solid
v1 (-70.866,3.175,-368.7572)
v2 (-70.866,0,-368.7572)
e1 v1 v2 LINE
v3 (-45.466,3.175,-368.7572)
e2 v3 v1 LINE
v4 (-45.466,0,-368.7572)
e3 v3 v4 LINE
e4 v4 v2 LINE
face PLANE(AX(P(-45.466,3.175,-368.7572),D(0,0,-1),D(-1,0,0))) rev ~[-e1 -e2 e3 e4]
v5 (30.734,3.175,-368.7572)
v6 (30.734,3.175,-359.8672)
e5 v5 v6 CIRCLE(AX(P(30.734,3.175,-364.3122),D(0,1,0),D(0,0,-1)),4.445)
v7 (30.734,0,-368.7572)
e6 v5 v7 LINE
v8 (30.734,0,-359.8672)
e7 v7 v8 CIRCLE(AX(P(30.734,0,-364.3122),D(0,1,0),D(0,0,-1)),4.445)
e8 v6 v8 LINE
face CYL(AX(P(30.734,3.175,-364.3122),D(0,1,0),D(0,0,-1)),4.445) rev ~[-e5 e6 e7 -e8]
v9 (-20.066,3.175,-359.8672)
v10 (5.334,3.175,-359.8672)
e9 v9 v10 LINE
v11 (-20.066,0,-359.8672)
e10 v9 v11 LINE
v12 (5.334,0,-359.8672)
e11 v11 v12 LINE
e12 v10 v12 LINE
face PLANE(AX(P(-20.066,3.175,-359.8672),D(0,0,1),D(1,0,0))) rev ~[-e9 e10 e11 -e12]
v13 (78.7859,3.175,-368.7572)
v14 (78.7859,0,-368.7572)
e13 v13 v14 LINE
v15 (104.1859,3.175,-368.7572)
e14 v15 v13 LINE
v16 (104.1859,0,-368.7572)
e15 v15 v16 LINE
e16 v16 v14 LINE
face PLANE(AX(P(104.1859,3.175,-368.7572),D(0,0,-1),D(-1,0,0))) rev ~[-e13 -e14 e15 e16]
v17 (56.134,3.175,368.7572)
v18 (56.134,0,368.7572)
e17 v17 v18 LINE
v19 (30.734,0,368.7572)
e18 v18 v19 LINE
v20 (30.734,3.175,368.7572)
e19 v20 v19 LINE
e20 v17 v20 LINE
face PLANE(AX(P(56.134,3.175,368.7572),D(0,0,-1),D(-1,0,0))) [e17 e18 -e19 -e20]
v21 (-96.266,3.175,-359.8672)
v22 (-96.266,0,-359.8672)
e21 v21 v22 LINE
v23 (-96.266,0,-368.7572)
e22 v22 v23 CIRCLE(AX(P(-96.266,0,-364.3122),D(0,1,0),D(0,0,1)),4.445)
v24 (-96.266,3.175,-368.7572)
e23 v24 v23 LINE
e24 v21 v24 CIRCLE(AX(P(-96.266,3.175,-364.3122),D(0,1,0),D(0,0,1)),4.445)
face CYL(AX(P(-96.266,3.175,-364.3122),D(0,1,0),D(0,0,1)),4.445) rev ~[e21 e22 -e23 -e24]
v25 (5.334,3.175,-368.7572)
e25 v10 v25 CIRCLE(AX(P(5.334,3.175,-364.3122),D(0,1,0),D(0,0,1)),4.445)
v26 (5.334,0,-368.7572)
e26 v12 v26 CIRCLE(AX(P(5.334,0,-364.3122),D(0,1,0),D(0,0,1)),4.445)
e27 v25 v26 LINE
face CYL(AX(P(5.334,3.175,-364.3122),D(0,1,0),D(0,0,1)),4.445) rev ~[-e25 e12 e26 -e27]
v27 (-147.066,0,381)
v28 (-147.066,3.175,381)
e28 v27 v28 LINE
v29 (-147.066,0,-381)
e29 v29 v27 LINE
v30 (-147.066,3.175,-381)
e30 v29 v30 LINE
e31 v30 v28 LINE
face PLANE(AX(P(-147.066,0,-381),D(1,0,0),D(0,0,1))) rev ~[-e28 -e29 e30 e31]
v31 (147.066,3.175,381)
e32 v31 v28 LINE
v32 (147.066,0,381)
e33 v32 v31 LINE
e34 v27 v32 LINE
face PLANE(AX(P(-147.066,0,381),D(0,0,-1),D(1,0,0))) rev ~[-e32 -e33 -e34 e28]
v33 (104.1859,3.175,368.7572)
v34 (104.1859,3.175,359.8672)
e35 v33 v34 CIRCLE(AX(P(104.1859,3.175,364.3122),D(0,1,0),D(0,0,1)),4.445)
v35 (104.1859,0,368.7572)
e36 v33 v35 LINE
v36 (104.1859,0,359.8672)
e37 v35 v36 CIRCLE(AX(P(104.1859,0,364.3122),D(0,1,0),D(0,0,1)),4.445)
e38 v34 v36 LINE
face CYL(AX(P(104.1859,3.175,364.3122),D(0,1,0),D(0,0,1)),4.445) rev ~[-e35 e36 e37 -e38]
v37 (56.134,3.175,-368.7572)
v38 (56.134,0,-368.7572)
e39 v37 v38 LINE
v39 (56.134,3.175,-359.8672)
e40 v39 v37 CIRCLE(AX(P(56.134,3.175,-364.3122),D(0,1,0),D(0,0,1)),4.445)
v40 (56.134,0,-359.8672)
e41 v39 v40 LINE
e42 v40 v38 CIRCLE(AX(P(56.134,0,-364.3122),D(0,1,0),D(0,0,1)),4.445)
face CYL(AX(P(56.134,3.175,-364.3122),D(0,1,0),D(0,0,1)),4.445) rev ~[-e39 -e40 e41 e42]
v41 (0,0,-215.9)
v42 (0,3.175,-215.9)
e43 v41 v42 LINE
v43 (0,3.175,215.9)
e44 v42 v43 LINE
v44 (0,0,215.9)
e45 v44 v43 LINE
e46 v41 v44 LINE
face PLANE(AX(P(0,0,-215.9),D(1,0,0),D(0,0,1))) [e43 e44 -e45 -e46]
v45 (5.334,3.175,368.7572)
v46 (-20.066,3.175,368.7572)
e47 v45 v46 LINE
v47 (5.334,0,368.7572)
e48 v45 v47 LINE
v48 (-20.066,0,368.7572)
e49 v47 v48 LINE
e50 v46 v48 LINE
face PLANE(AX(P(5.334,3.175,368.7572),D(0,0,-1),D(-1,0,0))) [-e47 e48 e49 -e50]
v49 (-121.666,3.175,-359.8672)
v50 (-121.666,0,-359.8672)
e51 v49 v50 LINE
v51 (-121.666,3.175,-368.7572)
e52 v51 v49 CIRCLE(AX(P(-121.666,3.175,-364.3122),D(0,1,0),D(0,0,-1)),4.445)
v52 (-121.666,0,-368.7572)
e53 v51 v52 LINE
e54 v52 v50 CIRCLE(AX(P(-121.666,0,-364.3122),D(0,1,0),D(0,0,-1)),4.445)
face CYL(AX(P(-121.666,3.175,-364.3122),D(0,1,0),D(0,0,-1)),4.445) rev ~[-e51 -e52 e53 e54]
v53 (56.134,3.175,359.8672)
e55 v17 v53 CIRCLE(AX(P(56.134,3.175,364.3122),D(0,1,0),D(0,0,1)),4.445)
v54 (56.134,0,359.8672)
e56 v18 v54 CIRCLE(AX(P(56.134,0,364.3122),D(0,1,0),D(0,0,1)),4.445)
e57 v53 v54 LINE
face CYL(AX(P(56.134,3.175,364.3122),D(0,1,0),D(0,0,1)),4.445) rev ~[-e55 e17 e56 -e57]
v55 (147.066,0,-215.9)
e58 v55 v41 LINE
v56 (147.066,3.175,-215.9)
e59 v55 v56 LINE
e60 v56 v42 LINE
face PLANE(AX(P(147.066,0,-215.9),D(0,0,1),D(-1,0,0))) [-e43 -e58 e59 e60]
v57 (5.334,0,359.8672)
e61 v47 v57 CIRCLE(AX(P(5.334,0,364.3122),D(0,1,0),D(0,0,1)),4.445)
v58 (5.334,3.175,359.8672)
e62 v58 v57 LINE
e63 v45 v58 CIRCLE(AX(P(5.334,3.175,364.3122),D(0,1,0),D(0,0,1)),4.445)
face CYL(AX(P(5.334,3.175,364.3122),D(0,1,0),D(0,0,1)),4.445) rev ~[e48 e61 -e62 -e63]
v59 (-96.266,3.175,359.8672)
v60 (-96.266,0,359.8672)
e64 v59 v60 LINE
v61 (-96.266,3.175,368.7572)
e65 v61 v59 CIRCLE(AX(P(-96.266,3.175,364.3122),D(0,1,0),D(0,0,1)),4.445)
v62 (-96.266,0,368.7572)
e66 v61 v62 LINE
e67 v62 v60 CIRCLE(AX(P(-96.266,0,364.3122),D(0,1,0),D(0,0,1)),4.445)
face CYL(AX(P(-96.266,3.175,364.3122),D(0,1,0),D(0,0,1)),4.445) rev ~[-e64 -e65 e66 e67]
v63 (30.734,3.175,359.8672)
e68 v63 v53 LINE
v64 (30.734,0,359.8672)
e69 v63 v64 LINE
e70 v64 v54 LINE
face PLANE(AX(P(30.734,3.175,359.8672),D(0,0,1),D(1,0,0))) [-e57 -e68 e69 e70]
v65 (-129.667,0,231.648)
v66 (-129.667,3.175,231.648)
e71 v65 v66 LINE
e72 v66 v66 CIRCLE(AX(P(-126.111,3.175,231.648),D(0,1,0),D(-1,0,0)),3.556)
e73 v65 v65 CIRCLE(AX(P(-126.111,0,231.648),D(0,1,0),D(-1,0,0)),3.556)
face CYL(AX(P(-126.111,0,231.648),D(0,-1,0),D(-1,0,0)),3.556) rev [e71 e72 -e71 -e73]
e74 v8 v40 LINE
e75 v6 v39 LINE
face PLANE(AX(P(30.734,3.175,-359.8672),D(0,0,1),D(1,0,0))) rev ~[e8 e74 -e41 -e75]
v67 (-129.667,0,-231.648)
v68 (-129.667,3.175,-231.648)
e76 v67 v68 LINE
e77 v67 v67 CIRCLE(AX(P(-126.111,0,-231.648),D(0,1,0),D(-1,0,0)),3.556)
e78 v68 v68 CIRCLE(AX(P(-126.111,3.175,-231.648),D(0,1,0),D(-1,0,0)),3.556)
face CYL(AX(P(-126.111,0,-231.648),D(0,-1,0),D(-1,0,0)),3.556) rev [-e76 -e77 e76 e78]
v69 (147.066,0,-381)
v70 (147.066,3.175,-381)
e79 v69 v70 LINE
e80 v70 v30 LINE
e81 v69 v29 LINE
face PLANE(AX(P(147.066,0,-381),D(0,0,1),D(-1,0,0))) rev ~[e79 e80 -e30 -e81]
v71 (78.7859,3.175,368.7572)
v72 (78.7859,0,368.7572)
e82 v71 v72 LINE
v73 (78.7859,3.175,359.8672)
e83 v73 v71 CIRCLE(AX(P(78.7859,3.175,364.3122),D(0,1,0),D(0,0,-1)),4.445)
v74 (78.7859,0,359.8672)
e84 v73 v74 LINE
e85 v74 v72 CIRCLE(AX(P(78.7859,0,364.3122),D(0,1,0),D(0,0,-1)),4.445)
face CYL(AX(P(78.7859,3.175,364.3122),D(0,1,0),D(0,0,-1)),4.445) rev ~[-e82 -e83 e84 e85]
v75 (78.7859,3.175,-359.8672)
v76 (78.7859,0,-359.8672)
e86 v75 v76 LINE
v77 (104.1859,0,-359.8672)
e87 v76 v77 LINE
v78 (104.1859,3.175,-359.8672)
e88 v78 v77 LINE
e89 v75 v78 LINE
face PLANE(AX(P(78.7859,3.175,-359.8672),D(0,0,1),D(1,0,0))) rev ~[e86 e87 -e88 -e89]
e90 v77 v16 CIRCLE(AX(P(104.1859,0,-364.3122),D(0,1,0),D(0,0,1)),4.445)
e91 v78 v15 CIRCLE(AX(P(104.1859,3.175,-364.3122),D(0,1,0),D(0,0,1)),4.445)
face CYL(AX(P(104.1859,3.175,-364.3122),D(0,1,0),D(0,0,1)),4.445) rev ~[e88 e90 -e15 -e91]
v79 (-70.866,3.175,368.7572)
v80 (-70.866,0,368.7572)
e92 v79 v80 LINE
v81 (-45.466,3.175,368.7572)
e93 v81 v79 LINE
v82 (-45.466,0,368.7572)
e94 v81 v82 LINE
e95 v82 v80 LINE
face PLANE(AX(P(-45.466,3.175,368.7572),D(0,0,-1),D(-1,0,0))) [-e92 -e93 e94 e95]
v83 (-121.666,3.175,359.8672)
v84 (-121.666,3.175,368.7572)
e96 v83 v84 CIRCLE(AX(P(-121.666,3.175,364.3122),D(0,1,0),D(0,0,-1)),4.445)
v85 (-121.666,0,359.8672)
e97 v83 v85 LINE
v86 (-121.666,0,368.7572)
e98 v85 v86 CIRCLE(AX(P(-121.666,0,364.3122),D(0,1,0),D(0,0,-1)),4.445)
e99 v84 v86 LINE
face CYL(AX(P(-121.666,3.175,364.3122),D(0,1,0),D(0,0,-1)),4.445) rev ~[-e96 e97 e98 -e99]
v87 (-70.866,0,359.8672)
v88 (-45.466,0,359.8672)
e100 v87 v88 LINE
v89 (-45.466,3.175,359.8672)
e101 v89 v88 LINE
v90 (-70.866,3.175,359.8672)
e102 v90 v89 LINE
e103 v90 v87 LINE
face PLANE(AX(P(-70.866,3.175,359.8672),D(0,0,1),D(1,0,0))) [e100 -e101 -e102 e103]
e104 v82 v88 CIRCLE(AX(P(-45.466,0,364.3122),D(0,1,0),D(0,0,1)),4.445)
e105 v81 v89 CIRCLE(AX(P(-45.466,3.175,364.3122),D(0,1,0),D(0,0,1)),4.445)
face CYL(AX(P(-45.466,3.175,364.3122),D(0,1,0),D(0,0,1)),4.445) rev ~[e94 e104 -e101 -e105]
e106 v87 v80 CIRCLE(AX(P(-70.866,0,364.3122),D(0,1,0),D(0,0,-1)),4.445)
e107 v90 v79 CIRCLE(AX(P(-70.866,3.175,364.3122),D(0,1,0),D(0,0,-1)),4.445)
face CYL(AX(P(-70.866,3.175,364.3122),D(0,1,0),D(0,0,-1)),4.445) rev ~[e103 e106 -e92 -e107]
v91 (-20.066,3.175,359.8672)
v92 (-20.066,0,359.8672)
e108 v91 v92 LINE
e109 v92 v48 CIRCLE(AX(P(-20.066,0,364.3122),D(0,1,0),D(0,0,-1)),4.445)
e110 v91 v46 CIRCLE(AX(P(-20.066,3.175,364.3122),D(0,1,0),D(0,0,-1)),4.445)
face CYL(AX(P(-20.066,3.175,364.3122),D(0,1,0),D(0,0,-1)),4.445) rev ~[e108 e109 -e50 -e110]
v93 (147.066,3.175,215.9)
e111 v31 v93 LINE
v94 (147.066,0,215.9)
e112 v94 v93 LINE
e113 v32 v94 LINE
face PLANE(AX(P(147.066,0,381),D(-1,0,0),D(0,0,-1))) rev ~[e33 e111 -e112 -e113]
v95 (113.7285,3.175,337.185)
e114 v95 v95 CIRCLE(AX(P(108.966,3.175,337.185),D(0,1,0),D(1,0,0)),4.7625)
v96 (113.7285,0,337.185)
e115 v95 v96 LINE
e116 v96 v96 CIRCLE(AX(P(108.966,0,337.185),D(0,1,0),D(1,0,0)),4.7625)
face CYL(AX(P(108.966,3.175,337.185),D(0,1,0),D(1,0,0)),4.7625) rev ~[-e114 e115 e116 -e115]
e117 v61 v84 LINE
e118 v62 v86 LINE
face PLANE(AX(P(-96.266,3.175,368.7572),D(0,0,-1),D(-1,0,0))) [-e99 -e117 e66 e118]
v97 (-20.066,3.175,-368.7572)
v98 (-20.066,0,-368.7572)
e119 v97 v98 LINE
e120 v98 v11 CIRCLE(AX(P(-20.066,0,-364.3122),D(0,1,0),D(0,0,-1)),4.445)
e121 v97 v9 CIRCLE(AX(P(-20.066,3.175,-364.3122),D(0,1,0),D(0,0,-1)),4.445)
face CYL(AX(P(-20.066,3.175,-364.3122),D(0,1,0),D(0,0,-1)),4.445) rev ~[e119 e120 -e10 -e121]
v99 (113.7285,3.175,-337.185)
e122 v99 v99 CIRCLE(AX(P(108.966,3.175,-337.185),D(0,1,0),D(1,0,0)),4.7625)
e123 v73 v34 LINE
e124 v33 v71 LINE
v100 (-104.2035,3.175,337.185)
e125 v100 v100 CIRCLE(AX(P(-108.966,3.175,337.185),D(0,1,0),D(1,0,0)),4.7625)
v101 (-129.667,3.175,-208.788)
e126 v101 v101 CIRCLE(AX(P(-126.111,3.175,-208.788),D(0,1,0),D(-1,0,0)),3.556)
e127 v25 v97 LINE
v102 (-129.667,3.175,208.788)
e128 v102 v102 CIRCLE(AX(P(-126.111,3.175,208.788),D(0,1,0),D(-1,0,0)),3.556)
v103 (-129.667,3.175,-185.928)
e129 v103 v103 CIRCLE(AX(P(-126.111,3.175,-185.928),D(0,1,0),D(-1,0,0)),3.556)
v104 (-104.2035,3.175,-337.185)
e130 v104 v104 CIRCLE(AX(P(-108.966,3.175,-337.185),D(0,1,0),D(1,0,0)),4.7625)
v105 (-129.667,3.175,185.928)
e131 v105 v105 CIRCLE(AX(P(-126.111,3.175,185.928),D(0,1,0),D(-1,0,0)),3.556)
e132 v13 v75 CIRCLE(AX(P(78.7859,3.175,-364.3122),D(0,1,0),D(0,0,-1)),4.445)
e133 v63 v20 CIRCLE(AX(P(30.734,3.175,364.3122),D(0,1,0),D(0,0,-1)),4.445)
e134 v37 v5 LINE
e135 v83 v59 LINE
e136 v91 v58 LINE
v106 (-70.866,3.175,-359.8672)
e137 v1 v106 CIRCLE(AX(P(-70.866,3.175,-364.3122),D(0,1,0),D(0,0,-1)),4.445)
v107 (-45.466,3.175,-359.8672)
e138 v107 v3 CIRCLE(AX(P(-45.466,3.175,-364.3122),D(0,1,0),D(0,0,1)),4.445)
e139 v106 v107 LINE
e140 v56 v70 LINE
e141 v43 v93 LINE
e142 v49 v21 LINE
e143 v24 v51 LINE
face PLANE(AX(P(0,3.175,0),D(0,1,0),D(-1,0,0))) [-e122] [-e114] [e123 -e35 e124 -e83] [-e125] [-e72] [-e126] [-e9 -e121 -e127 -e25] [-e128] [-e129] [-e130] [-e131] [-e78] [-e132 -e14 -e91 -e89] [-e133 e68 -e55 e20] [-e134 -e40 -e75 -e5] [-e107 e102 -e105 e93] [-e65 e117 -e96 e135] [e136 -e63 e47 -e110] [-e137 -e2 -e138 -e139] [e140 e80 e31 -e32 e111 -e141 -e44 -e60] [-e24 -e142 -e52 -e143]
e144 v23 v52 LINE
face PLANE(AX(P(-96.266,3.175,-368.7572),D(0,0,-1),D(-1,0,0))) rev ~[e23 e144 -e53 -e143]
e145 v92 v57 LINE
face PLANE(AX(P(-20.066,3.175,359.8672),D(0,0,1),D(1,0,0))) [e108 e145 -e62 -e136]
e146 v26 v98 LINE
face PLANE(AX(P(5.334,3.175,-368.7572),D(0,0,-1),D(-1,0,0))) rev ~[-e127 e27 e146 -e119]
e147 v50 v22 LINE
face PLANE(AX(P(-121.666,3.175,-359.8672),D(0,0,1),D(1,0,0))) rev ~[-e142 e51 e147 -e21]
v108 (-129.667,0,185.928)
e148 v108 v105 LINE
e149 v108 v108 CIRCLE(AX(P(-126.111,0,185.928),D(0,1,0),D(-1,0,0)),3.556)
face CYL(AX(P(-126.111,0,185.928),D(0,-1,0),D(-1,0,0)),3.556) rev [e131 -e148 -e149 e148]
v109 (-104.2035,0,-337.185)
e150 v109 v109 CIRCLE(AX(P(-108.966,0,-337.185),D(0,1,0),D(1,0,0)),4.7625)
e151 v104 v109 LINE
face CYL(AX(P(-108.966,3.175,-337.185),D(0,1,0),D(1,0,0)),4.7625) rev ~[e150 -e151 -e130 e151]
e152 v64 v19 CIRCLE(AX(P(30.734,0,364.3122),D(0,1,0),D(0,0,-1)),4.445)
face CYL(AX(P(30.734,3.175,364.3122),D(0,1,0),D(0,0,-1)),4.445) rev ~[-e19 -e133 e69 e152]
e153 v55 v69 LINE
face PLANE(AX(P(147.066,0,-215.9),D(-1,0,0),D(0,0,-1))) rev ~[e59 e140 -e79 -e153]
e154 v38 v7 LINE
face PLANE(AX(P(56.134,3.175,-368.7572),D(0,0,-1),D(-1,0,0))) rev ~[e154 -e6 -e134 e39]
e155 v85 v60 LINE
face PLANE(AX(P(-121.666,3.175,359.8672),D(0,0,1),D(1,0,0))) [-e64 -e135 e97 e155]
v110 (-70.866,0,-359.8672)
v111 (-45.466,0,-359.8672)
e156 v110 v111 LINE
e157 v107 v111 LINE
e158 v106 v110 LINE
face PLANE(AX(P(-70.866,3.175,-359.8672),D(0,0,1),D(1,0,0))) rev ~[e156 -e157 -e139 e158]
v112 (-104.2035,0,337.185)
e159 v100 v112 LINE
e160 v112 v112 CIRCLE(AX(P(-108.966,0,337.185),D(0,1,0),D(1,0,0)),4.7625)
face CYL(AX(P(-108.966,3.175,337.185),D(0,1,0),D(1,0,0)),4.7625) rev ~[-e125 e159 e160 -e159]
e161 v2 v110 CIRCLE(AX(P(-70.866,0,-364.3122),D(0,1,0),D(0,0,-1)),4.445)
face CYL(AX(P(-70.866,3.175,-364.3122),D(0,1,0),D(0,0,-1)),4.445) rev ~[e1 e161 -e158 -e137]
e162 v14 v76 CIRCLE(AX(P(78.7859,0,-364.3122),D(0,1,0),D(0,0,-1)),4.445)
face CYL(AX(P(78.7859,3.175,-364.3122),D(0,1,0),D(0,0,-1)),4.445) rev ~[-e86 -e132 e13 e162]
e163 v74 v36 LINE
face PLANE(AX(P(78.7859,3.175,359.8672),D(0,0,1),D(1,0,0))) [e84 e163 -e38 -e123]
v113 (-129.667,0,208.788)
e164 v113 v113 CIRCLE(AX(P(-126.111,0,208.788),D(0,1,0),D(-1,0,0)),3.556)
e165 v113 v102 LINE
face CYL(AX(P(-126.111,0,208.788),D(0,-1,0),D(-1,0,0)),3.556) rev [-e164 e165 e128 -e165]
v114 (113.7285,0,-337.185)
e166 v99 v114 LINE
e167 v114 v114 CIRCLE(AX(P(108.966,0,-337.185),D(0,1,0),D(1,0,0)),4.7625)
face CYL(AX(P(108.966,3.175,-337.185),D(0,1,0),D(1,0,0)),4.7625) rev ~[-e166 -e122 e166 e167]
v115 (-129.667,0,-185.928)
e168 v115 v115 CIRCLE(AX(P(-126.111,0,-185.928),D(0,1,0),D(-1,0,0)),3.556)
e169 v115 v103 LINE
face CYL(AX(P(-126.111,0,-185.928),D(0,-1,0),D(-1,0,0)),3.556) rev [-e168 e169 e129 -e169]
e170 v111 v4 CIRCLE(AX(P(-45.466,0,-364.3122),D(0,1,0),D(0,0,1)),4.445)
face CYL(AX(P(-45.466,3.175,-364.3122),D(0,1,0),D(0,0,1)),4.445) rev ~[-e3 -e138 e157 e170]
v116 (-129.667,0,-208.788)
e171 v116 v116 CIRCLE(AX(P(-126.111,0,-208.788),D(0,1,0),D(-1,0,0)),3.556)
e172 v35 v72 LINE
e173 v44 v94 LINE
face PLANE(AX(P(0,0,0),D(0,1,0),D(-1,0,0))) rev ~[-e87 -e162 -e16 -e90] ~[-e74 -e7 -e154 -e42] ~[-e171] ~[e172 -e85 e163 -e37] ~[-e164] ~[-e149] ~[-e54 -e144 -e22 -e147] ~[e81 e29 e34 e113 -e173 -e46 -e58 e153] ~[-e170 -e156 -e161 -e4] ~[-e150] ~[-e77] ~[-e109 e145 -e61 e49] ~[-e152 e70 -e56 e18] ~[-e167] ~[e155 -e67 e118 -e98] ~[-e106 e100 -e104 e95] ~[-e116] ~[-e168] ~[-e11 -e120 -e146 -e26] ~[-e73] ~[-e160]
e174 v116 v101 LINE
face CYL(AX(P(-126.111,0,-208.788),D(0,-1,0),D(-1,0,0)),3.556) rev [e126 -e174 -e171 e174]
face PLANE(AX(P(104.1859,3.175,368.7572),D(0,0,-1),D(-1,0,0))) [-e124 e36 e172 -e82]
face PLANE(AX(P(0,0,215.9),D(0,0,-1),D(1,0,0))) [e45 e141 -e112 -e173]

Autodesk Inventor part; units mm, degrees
ref_plane "YZ Plane" through (0, 0, 0) normal (1, 0, 0) x (0, 1, 0)
ref_plane "XZ Plane" through (0, 0, 0) normal (0, 1, 0) x (-1, 0, 0)
ref_plane "XY Plane" through (0, 0, 0) normal (0, 0, 1) x (1, 0, 0)
sketch "Sketch1" plane through (0, 0, 0) normal (0, 1, 0) x (-1, 0, 0)
  line L0 (147.066, 381) -> (0, 381)
  line L1 (-147.066, 33.688) -> (-147.066, -381)
  line L2 (-147.066, -381) -> (147.066, -381)
  line L3 (147.066, -381) -> (147.066, 381)
  line L4 (147.066, 381) -> (-147.066, -381) construction
  line L5 (136.271, -185.928) -> (115.951, -185.928) construction
  line L6 (115.951, -185.928) -> (115.951, -231.648) construction
  line L7 (115.951, -231.648) -> (136.271, -231.648) construction
  line L8 (136.271, -231.648) -> (136.271, -185.928) construction
  line L9 (136.271, -185.928) -> (115.951, -231.648) construction
  line L10 (115.951, -185.928) -> (136.271, -231.648) construction
  circle A0 centre (126.111, -231.648) radius 3.556
  circle A1 centre (126.111, -185.928) radius 3.556
  circle A2 centre (126.111, -208.788) radius 3.556
  line L11 (0, 0) -> (147.066, 0) construction
  line L12 (136.271, 231.648) -> (115.951, 231.648) construction
  line L13 (115.951, 231.648) -> (115.951, 185.928) construction
  line L14 (115.951, 185.928) -> (136.271, 185.928) construction
  line L15 (136.271, 185.928) -> (136.271, 231.648) construction
  line L16 (136.271, 231.648) -> (115.951, 185.928) construction
  line L17 (115.951, 231.648) -> (136.271, 185.928) construction
  circle A3 centre (126.111, 231.648) radius 3.556
  circle A4 centre (126.111, 208.788) radius 3.556
  circle A5 centre (126.111, 185.928) radius 3.556
  line L18 (0, 381) -> (-147.066, 381)
  line L19 (-147.066, 381) -> (-147.066, 33.688)
  line L20 (0, 215.9) -> (-147.066, 215.9)
  line L21 (-147.066, 215.9) -> (-147.066, -215.9)
  line L22 (-147.066, -215.9) -> (0, -215.9)
  line L23 (0, -215.9) -> (0, 215.9)
  line L24 (0, 215.9) -> (-147.066, -215.9) construction
  line L25 (-147.066, 215.9) -> (0, -215.9) construction
  point P0 (-73.533, 0)
  dimension "d1" = 294.132
  dimension "d8" = 20.955
  dimension "d9" = 762
  dimension "d10" = 20.32
  dimension "d11" = 45.72
  dimension "d12" = 7.112
  dimension "d13" = 7.112
  dimension "d14" = 7.112
  dimension "d15" = 149.352
  dimension "d16" = 45.72
  dimension "d17" = 149.352
  dimension "d18" = 7.112
  dimension "d19" = 7.112
  dimension "d20" = 7.112
  dimension "d21" = 431.8
  dimension "d22" = 147.066
  dimension "d23" = 0
extrude "Extrusion1" add sketch "Sketch1" along normal blind 3.175 contours L3 L2 L1 L22 L23 L20 L19 L18 L0
sketch "Sketch2" plane through (0, 3.175, 0) normal (0, 1, 0) x (1, 0, 0)
  line L0 (-121.666, 364.3122) -> (-96.266, 364.3122) construction
  line L1 (-121.666, 359.8672) -> (-96.266, 359.8672)
  line L2 (-96.266, 368.7572) -> (-121.666, 368.7572)
  arc A0 (-121.666, 368.7572) -> (-121.666, 359.8672) centre (-121.666, 364.3122) ccw
  arc A1 (-96.266, 359.8672) -> (-96.266, 368.7572) centre (-96.266, 364.3122) ccw
  line L3 (147.066, 381) -> (-147.066, 381) projected
  line L4 (-70.866, 364.3122) -> (-45.466, 364.3122) construction
  line L5 (-70.866, 359.8672) -> (-45.466, 359.8672)
  line L6 (-45.466, 368.7572) -> (-70.866, 368.7572)
  arc A2 (-70.866, 368.7572) -> (-70.866, 359.8672) centre (-70.866, 364.3122) ccw
  arc A3 (-45.466, 359.8672) -> (-45.466, 368.7572) centre (-45.466, 364.3122) ccw
  line L7 (-20.066, 364.3122) -> (5.334, 364.3122) construction
  line L8 (-20.066, 359.8672) -> (5.334, 359.8672)
  line L9 (5.334, 368.7572) -> (-20.066, 368.7572)
  arc A4 (-20.066, 368.7572) -> (-20.066, 359.8672) centre (-20.066, 364.3122) ccw
  arc A5 (5.334, 359.8672) -> (5.334, 368.7572) centre (5.334, 364.3122) ccw
  line L10 (30.734, 364.3122) -> (56.134, 364.3122) construction
  line L11 (30.734, 359.8672) -> (56.134, 359.8672)
  line L12 (56.134, 368.7572) -> (30.734, 368.7572)
  arc A6 (30.734, 368.7572) -> (30.734, 359.8672) centre (30.734, 364.3122) ccw
  arc A7 (56.134, 359.8672) -> (56.134, 368.7572) centre (56.134, 364.3122) ccw
  line L13 (-147.066, 381) -> (-147.066, -381) projected
  line L14 (0, 0) -> (-147.066, 0) construction
  line L15 (-121.666, -364.3122) -> (-96.266, -364.3122) construction
  line L16 (-121.666, -359.8672) -> (-96.266, -359.8672)
  line L17 (-96.266, -368.7572) -> (-121.666, -368.7572)
  arc A8 (-121.666, -359.8672) -> (-121.666, -368.7572) centre (-121.666, -364.3122) ccw
  arc A9 (-96.266, -368.7572) -> (-96.266, -359.8672) centre (-96.266, -364.3122) ccw
  line L18 (-70.866, -364.3122) -> (-45.466, -364.3122) construction
  line L19 (-70.866, -359.8672) -> (-45.466, -359.8672)
  line L20 (-45.466, -368.7572) -> (-70.866, -368.7572)
  arc A10 (-70.866, -359.8672) -> (-70.866, -368.7572) centre (-70.866, -364.3122) ccw
  arc A11 (-45.466, -368.7572) -> (-45.466, -359.8672) centre (-45.466, -364.3122) ccw
  line L21 (-20.066, -364.3122) -> (5.334, -364.3122) construction
  line L22 (-20.066, -359.8672) -> (5.334, -359.8672)
  line L23 (5.334, -368.7572) -> (-20.066, -368.7572)
  arc A12 (-20.066, -359.8672) -> (-20.066, -368.7572) centre (-20.066, -364.3122) ccw
  arc A13 (5.334, -368.7572) -> (5.334, -359.8672) centre (5.334, -364.3122) ccw
  line L24 (30.734, -364.3122) -> (56.134, -364.3122) construction
  line L25 (30.734, -359.8672) -> (56.134, -359.8672)
  line L26 (56.134, -368.7572) -> (30.734, -368.7572)
  arc A14 (30.734, -359.8672) -> (30.734, -368.7572) centre (30.734, -364.3122) ccw
  arc A15 (56.134, -368.7572) -> (56.134, -359.8672) centre (56.134, -364.3122) ccw
  circle A16 centre (-108.966, 337.185) radius 4.7625
  circle A17 centre (108.966, 337.185) radius 4.7625
  line L27 (147.066, 215.9) -> (147.066, 381) projected
  circle A18 centre (-108.966, -337.185) radius 4.7625
  circle A19 centre (108.966, -337.185) radius 4.7625
  line L28 (78.7859, 364.3122) -> (104.1859, 364.3122) construction
  line L29 (78.7859, 359.8672) -> (104.1859, 359.8672)
  line L30 (104.1859, 368.7572) -> (78.7859, 368.7572)
  arc A20 (78.7859, 368.7572) -> (78.7859, 359.8672) centre (78.7859, 364.3122) ccw
  arc A21 (104.1859, 359.8672) -> (104.1859, 368.7572) centre (104.1859, 364.3122) ccw
  line L31 (78.7859, -364.3122) -> (104.1859, -364.3122) construction
  line L32 (78.7859, -359.8672) -> (104.1859, -359.8672)
  line L33 (104.1859, -368.7572) -> (78.7859, -368.7572)
  arc A22 (78.7859, -359.8672) -> (78.7859, -368.7572) centre (78.7859, -364.3122) ccw
  arc A23 (104.1859, -368.7572) -> (104.1859, -359.8672) centre (104.1859, -364.3122) ccw
  point P0 (-108.966, 364.3122)
  point P1 (-58.166, 364.3122)
  point P2 (-7.366, 364.3122)
  point P3 (43.434, 364.3122)
  point P4 (-108.966, -364.3122)
  point P5 (-58.166, -364.3122)
  point P6 (-7.366, -364.3122)
  point P7 (43.434, -364.3122)
  point P8 (91.4859, 364.3122)
  point P9 (91.4859, -364.3122)
  dimension "d24" = 8.89
  dimension "d25" = 16.6878
  dimension "d26" = 25.4
  dimension "d27" = 25.4
  dimension "d28" = 8.89
  dimension "d29" = 25.4
  dimension "d30" = 8.89
  dimension "d31" = 25.4
  dimension "d32" = 8.89
  dimension "d33" = 25.4
  dimension "d34" = 25.4
  dimension "d35" = 25.4
  dimension "d36" = 25.4
  dimension "d42" = 9.525
  dimension "d43" = 43.815
  dimension "d44" = 38.1
  dimension "d45" = 9.525
  dimension "d46" = 43.815
  dimension "d47" = 38.1
  dimension "d48" = 25.4
  dimension "d49" = 4.445
extrude "Extrusion2" cut sketch "Sketch2" against normal blind 3.175
equation "\"d12\" = d13"
equation "\"d14\" = d13"
equation "\"d16\" = d11"
equation "\"d17\" = d15"
equation "\"d18\" = d13"
equation "\"d19\" = d13"
equation "\"d20\" = d13"
equation "\"d27\" = d26"
equation "\"d29\" = d26"
equation "\"d31\" = d26"
equation "\"d33\" = d36"
equation "\"d34\" = d36"
equation "\"d35\" = d36"
equation "\"d45\" = d42"
equation "\"d46\" = d43"
equation "\"d47\" = d44"
equation "\"d48\" = d31"
equation "\"d49\" = 0.5 * d32"
properties part number "lid"
